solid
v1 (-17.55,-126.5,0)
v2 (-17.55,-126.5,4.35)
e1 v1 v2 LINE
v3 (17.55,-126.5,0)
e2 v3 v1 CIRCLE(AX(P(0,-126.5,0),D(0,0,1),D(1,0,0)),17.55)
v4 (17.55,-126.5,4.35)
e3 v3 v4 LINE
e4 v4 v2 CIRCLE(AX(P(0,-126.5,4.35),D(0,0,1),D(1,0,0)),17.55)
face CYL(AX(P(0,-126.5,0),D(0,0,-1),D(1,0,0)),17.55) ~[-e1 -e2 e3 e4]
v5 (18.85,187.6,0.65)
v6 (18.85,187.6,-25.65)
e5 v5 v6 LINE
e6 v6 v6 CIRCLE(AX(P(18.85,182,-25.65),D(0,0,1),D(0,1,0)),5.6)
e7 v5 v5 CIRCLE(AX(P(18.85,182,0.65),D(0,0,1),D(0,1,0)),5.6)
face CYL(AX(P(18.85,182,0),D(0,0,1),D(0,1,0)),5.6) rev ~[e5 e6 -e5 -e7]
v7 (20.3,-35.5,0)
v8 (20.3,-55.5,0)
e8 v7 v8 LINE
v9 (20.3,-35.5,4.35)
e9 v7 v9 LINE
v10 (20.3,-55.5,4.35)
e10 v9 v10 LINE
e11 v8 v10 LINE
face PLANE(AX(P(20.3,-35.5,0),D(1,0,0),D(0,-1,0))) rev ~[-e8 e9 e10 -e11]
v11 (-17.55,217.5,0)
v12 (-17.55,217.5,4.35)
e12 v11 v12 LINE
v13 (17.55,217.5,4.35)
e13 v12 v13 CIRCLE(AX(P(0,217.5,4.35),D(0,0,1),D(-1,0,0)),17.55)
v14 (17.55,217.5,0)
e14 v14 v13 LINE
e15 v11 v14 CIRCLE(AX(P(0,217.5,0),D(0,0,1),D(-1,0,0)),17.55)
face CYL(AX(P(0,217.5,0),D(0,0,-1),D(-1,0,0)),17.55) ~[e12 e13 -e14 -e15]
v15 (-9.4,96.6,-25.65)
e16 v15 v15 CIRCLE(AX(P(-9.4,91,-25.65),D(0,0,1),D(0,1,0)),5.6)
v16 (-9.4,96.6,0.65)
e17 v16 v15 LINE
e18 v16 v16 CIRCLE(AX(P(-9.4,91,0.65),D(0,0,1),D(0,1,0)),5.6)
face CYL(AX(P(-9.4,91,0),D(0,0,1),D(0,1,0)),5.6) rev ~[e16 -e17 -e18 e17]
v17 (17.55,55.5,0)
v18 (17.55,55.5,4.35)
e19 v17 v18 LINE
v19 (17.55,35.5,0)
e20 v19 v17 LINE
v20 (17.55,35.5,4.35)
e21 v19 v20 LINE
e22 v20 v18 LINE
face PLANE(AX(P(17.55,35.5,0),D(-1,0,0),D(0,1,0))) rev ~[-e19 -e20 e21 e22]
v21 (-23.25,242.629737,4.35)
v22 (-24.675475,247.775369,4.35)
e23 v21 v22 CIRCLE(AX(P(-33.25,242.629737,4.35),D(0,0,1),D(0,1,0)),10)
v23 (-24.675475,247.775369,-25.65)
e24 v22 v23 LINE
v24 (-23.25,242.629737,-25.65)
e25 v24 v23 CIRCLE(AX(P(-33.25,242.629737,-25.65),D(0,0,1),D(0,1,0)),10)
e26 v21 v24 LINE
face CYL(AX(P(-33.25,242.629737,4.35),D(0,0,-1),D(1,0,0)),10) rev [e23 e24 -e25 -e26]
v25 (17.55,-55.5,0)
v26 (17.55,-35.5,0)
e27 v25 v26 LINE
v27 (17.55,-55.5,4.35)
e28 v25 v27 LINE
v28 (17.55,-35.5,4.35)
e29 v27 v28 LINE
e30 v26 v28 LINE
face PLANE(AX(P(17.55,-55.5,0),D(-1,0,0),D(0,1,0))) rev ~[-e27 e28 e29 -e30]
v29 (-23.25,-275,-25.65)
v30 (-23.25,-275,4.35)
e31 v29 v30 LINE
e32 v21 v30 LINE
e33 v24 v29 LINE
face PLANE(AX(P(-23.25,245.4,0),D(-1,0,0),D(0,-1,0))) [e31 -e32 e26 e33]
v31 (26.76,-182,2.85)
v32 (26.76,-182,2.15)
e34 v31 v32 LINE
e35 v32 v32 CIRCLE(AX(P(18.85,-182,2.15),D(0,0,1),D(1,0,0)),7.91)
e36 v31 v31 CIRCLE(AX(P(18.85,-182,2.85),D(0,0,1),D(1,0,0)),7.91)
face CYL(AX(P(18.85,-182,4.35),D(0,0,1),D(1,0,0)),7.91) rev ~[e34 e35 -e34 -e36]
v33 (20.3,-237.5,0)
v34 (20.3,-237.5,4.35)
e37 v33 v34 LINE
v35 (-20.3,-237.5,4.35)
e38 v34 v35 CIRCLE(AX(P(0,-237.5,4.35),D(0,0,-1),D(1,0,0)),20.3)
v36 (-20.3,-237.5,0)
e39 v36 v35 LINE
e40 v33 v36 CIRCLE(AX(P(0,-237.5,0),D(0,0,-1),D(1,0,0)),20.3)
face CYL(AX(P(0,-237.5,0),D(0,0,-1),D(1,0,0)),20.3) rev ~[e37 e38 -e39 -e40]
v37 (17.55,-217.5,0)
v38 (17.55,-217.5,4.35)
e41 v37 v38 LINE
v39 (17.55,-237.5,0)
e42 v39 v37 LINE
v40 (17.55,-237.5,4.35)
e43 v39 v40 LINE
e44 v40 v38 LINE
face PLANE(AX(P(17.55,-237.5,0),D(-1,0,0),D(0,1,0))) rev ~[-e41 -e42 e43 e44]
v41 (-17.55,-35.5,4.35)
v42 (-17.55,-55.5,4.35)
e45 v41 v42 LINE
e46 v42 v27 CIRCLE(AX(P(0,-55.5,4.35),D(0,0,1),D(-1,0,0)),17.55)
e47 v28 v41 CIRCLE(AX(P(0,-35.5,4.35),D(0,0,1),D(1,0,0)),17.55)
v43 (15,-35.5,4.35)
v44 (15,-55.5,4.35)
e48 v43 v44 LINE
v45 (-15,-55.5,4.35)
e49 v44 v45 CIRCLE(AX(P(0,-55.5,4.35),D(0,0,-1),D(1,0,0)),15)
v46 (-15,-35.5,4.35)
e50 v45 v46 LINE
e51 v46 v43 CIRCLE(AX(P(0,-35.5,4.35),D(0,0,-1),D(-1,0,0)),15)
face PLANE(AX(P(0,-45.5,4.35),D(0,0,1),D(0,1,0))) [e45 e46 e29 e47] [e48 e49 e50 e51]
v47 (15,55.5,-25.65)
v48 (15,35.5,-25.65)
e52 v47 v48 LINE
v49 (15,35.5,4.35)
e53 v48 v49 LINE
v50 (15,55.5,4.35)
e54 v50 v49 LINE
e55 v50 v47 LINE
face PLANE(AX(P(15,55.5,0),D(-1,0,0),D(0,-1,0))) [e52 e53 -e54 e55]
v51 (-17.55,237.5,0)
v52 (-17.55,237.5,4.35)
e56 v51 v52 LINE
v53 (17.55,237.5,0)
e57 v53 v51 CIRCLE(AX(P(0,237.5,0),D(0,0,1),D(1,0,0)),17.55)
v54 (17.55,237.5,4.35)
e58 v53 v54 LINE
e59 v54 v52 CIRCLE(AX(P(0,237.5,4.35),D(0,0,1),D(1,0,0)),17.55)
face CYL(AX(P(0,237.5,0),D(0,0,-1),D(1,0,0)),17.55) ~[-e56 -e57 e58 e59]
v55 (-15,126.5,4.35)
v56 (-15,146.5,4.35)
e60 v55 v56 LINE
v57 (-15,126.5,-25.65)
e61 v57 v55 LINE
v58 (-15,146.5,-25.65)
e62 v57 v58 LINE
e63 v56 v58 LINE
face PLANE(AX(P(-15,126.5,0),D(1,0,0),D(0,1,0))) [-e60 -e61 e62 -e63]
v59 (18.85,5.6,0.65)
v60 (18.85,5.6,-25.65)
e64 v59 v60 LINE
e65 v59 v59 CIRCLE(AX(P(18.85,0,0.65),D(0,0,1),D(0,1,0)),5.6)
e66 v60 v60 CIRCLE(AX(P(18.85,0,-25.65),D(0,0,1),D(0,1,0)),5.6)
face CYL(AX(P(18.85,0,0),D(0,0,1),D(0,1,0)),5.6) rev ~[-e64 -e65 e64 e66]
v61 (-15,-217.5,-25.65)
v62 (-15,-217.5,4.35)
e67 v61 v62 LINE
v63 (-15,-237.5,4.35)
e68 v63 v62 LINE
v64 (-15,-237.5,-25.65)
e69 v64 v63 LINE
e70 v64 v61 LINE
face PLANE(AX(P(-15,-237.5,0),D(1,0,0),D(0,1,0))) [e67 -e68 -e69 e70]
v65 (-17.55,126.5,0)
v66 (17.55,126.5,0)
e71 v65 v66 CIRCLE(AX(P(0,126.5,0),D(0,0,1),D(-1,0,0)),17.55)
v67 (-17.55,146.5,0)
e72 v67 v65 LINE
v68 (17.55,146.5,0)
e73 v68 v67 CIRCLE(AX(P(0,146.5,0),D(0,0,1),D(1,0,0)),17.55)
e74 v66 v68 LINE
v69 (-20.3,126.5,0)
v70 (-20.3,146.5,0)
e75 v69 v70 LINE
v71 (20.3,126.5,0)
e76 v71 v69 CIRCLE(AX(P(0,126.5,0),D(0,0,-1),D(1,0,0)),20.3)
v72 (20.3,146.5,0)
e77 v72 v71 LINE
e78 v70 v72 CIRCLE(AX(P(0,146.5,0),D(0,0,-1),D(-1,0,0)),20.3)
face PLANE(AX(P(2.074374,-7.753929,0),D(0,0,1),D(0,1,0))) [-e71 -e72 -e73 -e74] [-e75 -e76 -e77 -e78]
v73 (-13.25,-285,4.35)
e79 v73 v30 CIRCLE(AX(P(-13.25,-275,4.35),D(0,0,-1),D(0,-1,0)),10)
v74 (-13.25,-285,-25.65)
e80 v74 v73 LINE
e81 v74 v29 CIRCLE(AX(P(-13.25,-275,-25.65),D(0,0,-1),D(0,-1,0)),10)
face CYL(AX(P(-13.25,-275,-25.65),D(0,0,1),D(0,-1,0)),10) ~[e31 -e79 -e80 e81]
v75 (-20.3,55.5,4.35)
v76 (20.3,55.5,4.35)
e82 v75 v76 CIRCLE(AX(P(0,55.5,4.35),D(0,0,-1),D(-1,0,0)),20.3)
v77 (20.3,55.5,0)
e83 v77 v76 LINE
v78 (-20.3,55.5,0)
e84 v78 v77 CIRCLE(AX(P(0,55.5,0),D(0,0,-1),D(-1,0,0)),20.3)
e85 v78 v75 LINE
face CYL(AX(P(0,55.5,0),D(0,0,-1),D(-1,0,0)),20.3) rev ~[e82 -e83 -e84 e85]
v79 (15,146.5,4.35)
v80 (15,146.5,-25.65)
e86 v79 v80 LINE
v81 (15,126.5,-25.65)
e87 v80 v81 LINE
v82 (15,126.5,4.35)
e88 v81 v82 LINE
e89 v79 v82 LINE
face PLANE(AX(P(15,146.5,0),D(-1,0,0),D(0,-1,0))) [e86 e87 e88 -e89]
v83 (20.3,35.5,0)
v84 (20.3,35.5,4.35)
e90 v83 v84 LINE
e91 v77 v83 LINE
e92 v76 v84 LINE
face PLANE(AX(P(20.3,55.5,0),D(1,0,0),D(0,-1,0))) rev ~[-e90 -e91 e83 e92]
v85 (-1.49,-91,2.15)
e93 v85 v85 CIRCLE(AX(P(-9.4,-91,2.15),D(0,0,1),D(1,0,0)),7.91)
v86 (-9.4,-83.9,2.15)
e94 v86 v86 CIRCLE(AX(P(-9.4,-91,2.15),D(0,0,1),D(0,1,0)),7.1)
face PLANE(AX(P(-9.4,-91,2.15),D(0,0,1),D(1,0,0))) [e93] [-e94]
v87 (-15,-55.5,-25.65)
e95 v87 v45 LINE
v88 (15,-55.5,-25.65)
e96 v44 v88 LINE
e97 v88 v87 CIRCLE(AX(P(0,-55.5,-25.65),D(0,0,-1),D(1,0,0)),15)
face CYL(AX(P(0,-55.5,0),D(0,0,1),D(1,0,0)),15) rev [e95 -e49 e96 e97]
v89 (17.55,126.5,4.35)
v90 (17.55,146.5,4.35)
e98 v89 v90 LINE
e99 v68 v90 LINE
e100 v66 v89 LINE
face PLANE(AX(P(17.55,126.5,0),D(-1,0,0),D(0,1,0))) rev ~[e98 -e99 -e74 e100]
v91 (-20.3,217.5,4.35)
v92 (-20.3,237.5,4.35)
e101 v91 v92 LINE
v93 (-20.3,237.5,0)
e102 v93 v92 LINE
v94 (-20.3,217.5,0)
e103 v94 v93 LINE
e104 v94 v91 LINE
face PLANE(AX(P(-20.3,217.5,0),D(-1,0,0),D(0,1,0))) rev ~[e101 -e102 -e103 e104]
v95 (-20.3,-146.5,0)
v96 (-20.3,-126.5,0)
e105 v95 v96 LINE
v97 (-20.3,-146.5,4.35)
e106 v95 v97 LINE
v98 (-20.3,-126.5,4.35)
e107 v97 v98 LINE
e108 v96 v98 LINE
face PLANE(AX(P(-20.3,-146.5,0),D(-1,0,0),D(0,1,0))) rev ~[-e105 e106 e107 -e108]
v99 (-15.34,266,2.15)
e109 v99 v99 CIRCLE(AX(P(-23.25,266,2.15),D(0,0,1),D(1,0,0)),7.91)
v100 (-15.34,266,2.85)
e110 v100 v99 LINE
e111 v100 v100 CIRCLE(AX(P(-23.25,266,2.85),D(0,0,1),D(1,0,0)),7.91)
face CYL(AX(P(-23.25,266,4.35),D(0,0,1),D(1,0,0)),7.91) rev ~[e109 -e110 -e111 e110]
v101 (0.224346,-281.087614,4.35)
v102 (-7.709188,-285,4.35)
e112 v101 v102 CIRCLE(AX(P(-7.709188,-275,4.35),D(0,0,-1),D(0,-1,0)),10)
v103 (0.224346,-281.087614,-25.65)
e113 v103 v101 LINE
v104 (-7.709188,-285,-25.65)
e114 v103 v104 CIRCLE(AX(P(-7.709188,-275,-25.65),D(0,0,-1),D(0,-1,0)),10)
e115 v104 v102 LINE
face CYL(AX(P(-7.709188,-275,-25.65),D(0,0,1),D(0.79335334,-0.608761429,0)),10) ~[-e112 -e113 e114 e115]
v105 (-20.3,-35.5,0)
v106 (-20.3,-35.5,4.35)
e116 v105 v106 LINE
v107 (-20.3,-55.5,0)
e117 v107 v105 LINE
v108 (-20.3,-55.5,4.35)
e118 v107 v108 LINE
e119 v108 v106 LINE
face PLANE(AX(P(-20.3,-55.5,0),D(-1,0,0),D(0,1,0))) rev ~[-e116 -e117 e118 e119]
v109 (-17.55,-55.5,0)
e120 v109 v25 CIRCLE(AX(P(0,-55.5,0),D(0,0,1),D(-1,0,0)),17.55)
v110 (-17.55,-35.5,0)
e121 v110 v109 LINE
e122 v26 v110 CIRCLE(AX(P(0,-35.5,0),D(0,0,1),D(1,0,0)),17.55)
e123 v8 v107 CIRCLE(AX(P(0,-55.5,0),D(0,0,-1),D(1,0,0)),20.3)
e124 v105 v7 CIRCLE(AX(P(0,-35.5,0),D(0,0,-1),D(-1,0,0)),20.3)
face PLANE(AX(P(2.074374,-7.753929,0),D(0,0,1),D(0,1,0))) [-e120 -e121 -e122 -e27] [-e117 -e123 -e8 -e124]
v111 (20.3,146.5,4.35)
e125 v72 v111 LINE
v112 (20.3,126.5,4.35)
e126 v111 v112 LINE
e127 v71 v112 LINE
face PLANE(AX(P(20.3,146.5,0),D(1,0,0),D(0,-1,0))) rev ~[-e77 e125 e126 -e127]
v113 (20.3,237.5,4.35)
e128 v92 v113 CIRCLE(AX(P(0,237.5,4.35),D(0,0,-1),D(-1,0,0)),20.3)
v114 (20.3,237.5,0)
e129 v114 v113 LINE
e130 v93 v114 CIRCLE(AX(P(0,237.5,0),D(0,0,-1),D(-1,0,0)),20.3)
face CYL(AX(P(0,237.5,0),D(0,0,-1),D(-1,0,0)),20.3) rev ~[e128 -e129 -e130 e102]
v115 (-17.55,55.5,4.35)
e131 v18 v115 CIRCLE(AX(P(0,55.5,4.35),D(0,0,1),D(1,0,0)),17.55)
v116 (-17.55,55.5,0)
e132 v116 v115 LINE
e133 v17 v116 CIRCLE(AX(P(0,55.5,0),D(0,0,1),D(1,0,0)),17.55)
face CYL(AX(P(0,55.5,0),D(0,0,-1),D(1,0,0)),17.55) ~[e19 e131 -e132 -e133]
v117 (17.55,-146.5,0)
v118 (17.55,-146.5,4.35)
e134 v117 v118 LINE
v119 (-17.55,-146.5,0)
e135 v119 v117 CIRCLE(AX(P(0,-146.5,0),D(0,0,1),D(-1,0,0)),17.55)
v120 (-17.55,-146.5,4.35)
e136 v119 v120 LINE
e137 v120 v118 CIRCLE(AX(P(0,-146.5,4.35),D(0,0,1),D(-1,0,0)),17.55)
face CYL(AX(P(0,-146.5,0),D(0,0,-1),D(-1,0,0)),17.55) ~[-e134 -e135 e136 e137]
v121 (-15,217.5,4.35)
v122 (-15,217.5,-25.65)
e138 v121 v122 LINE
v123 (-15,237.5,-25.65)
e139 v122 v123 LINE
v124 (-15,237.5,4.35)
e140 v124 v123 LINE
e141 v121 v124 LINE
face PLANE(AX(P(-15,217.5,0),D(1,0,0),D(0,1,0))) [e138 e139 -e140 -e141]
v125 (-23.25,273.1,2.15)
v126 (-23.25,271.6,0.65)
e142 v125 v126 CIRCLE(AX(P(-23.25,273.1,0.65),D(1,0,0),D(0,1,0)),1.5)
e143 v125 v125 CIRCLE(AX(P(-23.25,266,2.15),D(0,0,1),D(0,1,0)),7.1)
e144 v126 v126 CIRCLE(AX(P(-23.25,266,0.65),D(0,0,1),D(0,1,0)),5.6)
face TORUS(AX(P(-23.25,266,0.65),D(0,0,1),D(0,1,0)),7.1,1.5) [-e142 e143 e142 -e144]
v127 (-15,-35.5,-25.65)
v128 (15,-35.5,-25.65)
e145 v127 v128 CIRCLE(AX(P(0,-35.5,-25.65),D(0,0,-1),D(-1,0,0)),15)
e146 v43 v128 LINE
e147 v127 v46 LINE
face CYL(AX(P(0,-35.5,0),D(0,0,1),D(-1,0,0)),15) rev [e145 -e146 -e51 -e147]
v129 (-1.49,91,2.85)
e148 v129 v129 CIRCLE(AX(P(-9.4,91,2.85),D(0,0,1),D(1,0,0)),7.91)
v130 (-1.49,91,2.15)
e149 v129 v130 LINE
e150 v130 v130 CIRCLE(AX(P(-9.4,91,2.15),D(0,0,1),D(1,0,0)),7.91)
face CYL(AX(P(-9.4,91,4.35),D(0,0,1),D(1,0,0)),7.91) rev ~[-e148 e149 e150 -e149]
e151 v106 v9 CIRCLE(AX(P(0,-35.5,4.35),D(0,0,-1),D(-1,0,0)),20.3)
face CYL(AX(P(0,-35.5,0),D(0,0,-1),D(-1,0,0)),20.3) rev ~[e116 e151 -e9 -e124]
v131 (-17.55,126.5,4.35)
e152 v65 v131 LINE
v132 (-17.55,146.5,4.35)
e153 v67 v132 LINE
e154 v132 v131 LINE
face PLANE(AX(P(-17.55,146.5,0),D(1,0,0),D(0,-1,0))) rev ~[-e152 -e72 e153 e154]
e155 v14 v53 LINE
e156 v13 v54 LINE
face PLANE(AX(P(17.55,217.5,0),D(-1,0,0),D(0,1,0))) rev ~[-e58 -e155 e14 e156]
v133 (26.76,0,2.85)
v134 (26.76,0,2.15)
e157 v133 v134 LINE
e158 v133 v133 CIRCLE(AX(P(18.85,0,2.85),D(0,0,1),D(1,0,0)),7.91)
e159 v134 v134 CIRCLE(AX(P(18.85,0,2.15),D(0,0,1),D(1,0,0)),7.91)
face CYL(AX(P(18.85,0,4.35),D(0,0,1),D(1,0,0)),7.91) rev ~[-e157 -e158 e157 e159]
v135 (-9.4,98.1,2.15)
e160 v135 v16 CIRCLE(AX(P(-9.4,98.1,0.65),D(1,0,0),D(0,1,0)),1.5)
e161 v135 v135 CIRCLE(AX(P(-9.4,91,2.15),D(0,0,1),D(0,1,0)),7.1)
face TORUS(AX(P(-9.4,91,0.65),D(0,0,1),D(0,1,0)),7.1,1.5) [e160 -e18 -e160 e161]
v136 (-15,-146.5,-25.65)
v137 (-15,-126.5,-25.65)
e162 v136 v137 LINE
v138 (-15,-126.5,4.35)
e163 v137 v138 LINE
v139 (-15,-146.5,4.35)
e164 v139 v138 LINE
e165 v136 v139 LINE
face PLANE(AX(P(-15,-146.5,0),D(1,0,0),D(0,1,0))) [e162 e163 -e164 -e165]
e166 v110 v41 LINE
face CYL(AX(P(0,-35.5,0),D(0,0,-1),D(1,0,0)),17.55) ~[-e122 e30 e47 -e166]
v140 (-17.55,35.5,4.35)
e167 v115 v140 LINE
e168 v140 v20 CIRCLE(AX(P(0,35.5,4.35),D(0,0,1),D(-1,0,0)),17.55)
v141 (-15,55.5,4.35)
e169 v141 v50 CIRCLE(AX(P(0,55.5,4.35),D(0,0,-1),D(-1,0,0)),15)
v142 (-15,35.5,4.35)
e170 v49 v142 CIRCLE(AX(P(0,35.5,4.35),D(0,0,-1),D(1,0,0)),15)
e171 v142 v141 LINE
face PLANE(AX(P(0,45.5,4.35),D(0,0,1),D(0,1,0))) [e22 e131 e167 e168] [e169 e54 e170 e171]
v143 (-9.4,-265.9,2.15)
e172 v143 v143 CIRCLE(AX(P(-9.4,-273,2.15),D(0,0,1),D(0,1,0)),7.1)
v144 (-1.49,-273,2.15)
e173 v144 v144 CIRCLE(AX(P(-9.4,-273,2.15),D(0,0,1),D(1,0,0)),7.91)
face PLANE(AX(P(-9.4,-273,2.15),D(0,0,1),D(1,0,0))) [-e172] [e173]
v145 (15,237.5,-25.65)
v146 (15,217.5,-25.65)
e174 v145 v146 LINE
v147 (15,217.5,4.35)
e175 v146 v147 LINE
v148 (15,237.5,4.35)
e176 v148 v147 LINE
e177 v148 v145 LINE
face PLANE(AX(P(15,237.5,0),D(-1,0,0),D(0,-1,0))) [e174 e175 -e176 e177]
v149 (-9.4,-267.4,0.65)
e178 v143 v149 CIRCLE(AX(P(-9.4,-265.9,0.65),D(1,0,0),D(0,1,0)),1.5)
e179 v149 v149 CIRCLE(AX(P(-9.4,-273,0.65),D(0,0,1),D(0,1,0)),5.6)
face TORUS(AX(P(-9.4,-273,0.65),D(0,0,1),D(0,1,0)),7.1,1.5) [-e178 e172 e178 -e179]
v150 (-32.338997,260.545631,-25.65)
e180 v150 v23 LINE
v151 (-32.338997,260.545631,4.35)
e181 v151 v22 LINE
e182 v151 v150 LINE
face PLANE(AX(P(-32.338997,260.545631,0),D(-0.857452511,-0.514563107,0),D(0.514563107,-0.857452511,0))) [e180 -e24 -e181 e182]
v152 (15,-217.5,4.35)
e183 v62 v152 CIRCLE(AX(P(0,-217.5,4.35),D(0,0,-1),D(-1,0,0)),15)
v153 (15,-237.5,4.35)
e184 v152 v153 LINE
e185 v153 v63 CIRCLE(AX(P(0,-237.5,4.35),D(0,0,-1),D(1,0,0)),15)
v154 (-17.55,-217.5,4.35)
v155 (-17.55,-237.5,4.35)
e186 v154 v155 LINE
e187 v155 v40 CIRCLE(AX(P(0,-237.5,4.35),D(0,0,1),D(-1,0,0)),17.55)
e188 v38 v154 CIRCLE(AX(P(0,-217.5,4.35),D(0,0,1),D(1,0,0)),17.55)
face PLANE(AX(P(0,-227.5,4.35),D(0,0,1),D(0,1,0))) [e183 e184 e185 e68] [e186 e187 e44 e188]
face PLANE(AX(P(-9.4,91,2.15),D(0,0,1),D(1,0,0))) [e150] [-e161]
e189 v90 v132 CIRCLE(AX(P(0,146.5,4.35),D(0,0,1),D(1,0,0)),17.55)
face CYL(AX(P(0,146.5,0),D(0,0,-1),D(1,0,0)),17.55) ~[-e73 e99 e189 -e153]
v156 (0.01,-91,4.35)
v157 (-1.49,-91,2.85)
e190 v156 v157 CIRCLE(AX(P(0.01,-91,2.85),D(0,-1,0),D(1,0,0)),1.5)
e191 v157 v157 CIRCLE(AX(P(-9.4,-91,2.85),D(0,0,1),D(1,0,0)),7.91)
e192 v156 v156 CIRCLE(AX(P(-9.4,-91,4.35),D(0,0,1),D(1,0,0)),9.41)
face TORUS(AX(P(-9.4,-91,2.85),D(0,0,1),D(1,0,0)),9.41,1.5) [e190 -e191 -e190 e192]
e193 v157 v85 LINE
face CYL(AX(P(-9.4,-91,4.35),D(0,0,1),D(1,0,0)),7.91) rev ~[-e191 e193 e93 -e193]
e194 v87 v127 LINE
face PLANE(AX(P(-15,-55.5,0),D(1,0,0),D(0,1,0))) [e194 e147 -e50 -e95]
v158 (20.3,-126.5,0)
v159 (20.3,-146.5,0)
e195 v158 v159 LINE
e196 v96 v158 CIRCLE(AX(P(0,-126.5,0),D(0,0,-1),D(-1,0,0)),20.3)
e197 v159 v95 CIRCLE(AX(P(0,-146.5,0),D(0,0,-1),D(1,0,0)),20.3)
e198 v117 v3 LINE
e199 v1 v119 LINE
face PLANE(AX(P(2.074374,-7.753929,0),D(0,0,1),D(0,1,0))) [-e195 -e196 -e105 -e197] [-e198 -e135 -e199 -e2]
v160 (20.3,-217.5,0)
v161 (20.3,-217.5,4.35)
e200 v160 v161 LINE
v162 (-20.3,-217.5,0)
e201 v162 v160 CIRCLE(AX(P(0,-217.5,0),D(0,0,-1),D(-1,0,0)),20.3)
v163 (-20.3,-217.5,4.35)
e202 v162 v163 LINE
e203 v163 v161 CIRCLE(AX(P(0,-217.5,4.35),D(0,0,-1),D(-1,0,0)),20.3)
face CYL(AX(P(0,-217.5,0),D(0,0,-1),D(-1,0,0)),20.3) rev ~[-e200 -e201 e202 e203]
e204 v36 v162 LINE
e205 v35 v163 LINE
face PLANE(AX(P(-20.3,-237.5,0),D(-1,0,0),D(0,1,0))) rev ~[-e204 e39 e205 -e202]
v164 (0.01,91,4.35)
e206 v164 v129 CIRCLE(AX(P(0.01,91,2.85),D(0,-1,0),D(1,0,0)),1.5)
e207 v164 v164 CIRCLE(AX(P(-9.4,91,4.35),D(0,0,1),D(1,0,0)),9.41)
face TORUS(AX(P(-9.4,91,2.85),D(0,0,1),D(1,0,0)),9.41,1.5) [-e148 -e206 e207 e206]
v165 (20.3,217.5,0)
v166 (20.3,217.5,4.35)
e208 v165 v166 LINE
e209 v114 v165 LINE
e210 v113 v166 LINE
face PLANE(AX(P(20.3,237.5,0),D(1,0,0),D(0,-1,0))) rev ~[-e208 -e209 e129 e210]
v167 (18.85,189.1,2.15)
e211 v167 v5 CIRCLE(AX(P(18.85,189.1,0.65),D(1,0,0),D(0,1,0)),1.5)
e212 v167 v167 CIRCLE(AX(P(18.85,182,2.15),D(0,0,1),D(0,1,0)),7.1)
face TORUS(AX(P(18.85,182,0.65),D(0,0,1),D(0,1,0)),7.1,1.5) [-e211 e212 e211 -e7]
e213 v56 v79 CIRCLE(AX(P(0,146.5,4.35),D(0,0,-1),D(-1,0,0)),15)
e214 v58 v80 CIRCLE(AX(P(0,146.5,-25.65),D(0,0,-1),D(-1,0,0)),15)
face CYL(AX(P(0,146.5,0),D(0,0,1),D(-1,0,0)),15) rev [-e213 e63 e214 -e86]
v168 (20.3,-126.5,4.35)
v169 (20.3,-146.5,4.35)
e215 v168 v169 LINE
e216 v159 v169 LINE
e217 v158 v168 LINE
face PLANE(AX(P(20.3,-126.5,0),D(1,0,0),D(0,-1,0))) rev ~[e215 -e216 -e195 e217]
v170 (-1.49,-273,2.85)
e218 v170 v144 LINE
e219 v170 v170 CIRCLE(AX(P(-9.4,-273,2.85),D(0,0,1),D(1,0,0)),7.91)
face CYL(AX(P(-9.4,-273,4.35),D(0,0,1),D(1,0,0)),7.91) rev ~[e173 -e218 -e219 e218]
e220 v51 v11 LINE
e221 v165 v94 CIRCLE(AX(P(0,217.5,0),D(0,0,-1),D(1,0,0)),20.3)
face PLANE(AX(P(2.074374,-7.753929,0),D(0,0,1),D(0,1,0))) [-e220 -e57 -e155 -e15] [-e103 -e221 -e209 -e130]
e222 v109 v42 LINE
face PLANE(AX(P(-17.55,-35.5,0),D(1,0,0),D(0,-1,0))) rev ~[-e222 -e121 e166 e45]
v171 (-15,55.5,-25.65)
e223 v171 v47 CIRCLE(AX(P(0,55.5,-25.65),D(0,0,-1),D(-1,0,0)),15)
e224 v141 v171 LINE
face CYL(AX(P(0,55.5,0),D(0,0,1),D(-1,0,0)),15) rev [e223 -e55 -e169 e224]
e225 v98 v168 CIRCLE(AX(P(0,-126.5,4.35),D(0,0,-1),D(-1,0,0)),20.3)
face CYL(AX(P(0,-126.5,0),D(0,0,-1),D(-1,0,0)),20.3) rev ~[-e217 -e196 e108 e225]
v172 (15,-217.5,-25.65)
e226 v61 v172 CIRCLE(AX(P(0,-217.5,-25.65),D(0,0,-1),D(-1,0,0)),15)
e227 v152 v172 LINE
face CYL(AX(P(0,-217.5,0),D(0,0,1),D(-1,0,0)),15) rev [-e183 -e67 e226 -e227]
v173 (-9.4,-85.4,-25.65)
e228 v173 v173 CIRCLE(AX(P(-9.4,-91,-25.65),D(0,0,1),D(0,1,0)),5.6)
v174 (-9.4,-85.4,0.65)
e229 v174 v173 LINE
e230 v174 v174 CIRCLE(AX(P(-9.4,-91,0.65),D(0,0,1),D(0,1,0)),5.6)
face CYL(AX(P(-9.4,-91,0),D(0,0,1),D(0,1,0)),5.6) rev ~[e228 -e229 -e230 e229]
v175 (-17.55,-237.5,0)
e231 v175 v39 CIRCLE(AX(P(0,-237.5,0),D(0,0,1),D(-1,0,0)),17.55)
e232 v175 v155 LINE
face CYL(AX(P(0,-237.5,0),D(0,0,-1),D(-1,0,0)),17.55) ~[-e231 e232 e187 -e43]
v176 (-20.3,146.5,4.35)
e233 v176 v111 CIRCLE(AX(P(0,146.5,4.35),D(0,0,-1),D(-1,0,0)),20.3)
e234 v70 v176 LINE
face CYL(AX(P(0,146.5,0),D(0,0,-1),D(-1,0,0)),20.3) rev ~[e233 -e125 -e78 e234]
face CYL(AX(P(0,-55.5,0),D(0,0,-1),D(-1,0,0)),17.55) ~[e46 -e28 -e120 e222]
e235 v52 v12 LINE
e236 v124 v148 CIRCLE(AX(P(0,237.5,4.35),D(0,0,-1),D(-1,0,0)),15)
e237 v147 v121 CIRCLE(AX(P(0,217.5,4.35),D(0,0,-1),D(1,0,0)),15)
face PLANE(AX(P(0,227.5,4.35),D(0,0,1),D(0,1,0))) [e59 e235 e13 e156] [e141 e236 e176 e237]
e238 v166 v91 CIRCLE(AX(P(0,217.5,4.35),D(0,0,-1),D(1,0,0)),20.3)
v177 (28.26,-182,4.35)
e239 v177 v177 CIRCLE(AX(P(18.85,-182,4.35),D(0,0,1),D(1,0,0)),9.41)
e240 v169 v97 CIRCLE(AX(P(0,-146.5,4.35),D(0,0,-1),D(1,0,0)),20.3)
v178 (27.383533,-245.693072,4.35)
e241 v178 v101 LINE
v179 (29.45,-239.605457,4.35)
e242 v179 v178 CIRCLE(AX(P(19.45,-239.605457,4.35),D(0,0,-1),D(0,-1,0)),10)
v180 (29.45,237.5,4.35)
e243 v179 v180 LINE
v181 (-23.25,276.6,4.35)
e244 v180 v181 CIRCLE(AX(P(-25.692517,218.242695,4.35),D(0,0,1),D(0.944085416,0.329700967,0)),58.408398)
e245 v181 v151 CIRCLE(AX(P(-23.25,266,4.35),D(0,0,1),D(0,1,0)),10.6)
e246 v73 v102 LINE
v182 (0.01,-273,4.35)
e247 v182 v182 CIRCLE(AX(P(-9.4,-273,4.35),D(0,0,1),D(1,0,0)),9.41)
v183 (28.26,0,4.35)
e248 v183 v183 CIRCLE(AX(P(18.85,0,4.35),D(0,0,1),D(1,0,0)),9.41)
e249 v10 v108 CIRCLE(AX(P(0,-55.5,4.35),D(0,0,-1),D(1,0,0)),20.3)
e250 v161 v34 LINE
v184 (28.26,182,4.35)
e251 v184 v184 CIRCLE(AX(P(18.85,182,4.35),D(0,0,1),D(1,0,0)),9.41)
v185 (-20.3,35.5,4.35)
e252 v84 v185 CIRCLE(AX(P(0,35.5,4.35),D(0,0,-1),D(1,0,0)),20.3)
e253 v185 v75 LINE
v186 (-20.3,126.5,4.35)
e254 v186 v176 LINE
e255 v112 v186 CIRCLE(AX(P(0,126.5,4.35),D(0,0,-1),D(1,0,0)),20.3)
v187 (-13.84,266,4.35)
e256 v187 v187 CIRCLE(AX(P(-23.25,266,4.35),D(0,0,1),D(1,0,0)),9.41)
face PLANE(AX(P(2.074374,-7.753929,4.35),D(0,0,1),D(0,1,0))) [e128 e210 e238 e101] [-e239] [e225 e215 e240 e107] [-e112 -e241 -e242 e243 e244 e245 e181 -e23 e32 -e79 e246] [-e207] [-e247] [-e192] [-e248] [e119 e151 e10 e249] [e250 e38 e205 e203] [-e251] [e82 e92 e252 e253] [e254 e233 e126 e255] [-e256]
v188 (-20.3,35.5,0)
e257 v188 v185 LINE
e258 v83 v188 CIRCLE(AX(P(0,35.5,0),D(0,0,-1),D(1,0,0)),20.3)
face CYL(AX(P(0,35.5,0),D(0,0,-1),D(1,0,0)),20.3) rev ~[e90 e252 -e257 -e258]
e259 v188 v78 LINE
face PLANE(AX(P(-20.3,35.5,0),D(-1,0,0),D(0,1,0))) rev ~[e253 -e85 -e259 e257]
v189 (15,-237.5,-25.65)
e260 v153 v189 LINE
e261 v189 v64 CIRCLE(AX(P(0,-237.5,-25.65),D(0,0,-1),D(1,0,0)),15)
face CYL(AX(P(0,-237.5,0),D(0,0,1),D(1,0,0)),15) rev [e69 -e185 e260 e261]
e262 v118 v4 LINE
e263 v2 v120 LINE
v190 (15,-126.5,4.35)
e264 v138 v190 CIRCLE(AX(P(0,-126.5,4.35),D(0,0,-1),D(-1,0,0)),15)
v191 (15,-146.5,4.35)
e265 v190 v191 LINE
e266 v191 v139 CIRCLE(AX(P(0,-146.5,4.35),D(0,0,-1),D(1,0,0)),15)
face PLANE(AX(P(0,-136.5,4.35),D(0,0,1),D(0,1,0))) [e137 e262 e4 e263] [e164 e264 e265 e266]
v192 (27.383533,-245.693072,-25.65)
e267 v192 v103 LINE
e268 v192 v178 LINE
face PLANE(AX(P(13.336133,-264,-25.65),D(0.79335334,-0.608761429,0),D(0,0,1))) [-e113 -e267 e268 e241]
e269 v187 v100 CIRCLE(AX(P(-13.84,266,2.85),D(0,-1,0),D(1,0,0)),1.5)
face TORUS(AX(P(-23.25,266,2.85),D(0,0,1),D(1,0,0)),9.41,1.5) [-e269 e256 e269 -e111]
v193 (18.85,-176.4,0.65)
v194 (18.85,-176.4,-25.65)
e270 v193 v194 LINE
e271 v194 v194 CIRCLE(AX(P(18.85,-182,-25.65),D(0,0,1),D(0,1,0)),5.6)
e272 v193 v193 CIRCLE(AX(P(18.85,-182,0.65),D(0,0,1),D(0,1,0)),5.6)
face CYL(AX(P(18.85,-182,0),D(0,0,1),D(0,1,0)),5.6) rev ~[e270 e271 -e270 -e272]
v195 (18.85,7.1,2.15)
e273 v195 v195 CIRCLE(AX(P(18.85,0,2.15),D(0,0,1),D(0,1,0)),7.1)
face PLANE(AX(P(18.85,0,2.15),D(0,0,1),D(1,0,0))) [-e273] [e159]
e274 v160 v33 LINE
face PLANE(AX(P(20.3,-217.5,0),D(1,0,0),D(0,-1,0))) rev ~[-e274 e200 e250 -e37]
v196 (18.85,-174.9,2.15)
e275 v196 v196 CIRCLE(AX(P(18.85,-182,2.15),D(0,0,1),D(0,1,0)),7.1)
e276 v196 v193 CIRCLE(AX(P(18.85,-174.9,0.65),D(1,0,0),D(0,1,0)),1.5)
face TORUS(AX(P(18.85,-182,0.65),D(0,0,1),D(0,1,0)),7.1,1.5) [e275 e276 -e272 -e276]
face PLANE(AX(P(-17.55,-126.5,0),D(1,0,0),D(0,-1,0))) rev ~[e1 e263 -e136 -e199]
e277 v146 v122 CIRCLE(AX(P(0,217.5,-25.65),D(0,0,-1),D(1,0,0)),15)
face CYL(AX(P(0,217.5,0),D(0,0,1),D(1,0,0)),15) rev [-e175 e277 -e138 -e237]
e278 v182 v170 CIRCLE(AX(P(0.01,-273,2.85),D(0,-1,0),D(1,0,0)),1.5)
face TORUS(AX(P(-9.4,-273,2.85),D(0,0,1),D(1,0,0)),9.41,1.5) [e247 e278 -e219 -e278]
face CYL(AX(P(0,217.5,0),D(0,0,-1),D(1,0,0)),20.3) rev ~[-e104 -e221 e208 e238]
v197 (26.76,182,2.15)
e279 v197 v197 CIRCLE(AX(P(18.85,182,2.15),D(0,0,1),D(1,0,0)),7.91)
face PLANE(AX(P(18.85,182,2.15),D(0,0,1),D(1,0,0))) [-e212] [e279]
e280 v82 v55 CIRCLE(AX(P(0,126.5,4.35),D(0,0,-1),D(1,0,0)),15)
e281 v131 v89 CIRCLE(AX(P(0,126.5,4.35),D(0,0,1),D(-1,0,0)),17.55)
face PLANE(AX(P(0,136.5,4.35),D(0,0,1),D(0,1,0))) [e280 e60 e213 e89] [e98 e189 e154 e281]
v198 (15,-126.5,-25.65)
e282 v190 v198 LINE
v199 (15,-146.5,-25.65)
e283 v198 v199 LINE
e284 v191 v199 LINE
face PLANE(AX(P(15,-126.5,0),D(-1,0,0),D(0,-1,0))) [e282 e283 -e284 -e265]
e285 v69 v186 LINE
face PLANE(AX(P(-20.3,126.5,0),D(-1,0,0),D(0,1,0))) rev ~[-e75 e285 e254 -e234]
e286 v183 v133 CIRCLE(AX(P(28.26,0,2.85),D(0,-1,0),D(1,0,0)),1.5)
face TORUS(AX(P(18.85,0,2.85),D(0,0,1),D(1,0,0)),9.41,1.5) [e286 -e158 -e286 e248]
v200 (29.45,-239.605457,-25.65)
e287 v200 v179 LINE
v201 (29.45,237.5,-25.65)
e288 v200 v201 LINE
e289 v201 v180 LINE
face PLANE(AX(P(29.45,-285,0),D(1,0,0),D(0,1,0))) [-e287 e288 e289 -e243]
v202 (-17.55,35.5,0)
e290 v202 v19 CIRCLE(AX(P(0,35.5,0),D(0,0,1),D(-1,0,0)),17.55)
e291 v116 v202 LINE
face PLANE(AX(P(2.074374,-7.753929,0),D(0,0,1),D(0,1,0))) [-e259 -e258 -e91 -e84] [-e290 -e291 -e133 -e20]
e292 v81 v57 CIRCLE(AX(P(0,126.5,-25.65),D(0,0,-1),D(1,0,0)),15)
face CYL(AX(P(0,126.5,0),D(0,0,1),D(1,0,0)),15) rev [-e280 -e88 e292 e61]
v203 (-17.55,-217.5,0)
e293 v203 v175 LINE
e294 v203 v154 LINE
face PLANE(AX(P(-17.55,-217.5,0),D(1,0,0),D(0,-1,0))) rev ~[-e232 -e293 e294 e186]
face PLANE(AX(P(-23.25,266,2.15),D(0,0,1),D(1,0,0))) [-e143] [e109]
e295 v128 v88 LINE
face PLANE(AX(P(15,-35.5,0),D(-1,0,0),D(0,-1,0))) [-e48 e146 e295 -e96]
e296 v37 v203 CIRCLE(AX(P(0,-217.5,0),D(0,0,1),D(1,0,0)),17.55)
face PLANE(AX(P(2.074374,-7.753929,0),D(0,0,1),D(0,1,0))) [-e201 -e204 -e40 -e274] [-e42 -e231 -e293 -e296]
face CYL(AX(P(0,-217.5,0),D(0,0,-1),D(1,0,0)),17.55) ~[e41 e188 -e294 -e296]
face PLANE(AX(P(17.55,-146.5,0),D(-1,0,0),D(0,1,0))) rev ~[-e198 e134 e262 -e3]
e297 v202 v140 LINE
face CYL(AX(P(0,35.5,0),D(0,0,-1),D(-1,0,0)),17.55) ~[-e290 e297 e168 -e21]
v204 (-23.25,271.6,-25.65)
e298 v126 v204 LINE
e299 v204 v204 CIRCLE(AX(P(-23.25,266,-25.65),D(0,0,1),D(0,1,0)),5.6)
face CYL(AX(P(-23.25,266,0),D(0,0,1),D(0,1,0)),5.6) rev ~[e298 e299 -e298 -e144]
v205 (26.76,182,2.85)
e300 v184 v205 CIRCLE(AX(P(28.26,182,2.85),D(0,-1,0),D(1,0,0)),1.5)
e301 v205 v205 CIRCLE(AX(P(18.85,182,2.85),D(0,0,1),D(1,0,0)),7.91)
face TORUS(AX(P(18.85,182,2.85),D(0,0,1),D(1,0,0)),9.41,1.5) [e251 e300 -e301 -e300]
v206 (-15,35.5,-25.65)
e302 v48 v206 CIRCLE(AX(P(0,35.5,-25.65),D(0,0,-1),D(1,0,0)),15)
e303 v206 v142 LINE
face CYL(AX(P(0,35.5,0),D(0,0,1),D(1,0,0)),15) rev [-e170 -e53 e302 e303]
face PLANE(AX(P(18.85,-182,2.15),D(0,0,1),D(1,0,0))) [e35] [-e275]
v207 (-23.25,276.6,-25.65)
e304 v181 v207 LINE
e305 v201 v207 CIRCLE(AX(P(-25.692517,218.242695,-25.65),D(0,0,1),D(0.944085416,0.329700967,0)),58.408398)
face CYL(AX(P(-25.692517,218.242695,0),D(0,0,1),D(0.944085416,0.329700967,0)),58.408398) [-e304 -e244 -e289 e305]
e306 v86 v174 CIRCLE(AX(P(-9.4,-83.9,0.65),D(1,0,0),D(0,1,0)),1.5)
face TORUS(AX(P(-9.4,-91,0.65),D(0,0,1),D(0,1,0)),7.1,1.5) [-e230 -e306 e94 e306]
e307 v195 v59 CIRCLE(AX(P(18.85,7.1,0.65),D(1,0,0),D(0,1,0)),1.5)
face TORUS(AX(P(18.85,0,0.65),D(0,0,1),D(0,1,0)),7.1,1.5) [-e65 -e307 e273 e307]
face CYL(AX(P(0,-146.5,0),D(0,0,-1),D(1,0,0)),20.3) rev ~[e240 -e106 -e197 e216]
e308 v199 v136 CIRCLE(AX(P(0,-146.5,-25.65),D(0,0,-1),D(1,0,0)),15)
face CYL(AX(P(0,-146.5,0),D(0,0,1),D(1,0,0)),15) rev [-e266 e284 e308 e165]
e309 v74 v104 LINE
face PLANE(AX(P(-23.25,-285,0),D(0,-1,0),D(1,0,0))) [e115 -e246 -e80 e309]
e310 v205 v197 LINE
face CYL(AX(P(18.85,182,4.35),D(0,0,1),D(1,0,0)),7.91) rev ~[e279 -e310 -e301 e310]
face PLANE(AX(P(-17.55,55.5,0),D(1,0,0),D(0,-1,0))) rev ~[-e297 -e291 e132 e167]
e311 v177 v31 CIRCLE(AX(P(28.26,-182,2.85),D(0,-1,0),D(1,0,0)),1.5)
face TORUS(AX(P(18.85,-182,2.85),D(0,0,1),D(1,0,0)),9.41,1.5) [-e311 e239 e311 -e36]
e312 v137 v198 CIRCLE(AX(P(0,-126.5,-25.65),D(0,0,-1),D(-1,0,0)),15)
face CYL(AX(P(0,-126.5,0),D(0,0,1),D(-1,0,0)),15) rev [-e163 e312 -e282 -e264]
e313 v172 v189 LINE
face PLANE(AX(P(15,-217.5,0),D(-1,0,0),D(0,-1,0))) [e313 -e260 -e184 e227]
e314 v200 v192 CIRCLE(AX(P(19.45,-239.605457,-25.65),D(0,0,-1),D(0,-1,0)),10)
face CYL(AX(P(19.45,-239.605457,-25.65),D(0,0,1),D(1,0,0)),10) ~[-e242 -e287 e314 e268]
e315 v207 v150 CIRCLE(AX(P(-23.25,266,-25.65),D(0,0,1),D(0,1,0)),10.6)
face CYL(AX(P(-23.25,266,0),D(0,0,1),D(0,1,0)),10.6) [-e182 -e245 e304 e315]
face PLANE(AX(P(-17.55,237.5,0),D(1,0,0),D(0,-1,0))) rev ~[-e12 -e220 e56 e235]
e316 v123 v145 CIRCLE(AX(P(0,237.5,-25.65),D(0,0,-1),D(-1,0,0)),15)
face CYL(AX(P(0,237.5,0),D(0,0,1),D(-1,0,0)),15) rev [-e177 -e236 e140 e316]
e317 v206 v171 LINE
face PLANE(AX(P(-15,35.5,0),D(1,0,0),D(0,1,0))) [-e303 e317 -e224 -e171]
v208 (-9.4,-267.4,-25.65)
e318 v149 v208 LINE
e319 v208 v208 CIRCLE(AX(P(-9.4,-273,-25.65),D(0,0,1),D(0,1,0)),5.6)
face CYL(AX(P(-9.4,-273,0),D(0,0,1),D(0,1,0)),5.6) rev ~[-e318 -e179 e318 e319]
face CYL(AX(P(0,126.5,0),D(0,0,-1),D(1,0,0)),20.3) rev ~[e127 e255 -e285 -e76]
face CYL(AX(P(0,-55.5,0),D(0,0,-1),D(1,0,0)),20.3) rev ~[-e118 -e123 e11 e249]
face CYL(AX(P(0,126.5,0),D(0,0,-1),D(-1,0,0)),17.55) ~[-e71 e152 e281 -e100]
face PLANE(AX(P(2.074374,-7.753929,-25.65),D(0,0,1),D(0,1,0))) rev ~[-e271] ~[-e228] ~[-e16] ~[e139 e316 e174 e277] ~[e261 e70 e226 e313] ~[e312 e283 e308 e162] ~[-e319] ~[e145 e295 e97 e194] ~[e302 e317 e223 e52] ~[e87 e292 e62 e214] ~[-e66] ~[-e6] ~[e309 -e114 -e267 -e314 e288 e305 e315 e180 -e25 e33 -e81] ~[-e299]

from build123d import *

# Parameters (mm, degrees)
BASE_FLANGE_GEOMETRY_R   = 5.6
BOSS_EXTRUDE1_DEPTH      = 4.35
BOSS_EXTRUDE1_2_DEPTH    = 4.35
BOSS_EXTRUDE1_3_DEPTH    = 4.35
BOSS_EXTRUDE1_4_DEPTH    = 4.35
BOSS_EXTRUDE1_5_DEPTH    = 4.35
BOSS_EXTRUDE1_6_DEPTH    = 4.35
BOSS_EXTRUDE1_7_DEPTH    = 4.35
BOSS_EXTRUDE2_START      = -25.65
BASE_FLANGE_GEOMETRY_5_R = 5.6
BOSS_EXTRUDE2_DEPTH      = 25.65
CHAMFER1_SIZE            = 42
CHAMFER1_SIZE2           = 32.227733495
FILLET1_R                = 10
CUT_EXTRUDE1_START       = -2.2
INSERT_HOLE_GEOMETRY_R   = 7.91
INSERT_HOLE_GEOMETRY_R_2 = 5.6
CUT_EXTRUDE1_DEPTH       = 2.2
FILLET2_R                = 1.5


with BuildPart() as part:
    # Base_Flange_Geometry → Boss-Extrude1 (new body)
    with BuildSketch(Plane(origin=(0, 0, 0), x_dir=(0, 1, 0), z_dir=(0, 0, 1))):
        with BuildLine():
            Line((245.4, 23.25), (-285, 23.25))
            Line((-285, 23.25), (-285, -29.45))
            Line((-285, -29.45), (237.5, -29.45))
            ThreePointArc((237.5, -29.45), (265.150364046, -9.109947518), (276.6, 23.25))
            ThreePointArc((276.6, 23.25), (271.222245174, 32.474324113), (260.545631068, 32.33899662))
            Line((260.545631068, 32.33899662), (245.4, 23.25))
        make_face()
        with Locations((-182, -18.85)):
            Circle(BASE_FLANGE_GEOMETRY_R, mode=Mode.SUBTRACT)
        with BuildLine():
            Line((-237.5, 20.3), (-217.5, 20.3))
            ThreePointArc((-217.5, 20.3), (-197.2, 0), (-217.5, -20.3))
            Line((-217.5, -20.3), (-237.5, -20.3))
            ThreePointArc((-237.5, -20.3), (-257.8, 0), (-237.5, 20.3))
        make_face(mode=Mode.SUBTRACT)
        with BuildLine():
            Line((-146.5, 20.3), (-126.5, 20.3))
            ThreePointArc((-126.5, 20.3), (-106.2, 0), (-126.5, -20.3))
            Line((-126.5, -20.3), (-146.5, -20.3))
            ThreePointArc((-146.5, -20.3), (-166.8, 0), (-146.5, 20.3))
        make_face(mode=Mode.SUBTRACT)
        with BuildLine():
            Line((-55.5, 20.3), (-35.5, 20.3))
            ThreePointArc((-35.5, 20.3), (-15.2, 0), (-35.5, -20.3))
            Line((-35.5, -20.3), (-55.5, -20.3))
            ThreePointArc((-55.5, -20.3), (-75.8, 0), (-55.5, 20.3))
        make_face(mode=Mode.SUBTRACT)
        with Locations((0, -18.85)):
            Circle(BASE_FLANGE_GEOMETRY_R, mode=Mode.SUBTRACT)
        with Locations((182, -18.85)):
            Circle(BASE_FLANGE_GEOMETRY_R, mode=Mode.SUBTRACT)
        with BuildLine():
            ThreePointArc((35.5, -20.3), (15.2, 0), (35.5, 20.3))
            Line((35.5, 20.3), (55.5, 20.3))
            ThreePointArc((55.5, 20.3), (75.8, 0), (55.5, -20.3))
            Line((55.5, -20.3), (35.5, -20.3))
        make_face(mode=Mode.SUBTRACT)
        with BuildLine():
            ThreePointArc((126.5, -20.3), (106.2, 0), (126.5, 20.3))
            Line((126.5, 20.3), (146.5, 20.3))
            ThreePointArc((146.5, 20.3), (166.8, 0), (146.5, -20.3))
            Line((146.5, -20.3), (126.5, -20.3))
        make_face(mode=Mode.SUBTRACT)
        with BuildLine():
            ThreePointArc((217.5, -20.3), (197.2, 0), (217.5, 20.3))
            Line((217.5, 20.3), (237.5, 20.3))
            ThreePointArc((237.5, 20.3), (257.8, 0), (237.5, -20.3))
            Line((237.5, -20.3), (217.5, -20.3))
        make_face(mode=Mode.SUBTRACT)
        with Locations((-273, 9.4)):
            Circle(BASE_FLANGE_GEOMETRY_R, mode=Mode.SUBTRACT)
        with Locations((-91, 9.4)):
            Circle(BASE_FLANGE_GEOMETRY_R, mode=Mode.SUBTRACT)
        with Locations((91, 9.4)):
            Circle(BASE_FLANGE_GEOMETRY_R, mode=Mode.SUBTRACT)
        with Locations((266, 23.25)):
            Circle(BASE_FLANGE_GEOMETRY_R, mode=Mode.SUBTRACT)
    extrude(amount=BOSS_EXTRUDE1_DEPTH)



with BuildPart() as body_2:
    # Base_Flange_Geometry → Boss-Extrude1 2 (new body)
    with BuildSketch(Plane(origin=(0, 0, 0), x_dir=(0, 1, 0), z_dir=(0, 0, 1))):
        with BuildLine():
            Line((237.5, 17.55), (217.5, 17.55))
            ThreePointArc((217.5, 17.55), (199.95, 0), (217.5, -17.55))
            Line((217.5, -17.55), (237.5, -17.55))
            ThreePointArc((237.5, -17.55), (255.05, 0), (237.5, 17.55))
        make_face()
        with BuildLine():
            ThreePointArc((217.5, -15), (202.5, 0), (217.5, 15))
            Line((217.5, 15), (237.5, 15))
            ThreePointArc((237.5, 15), (252.5, 0), (237.5, -15))
            Line((237.5, -15), (217.5, -15))
        make_face(mode=Mode.SUBTRACT)
    extrude(amount=BOSS_EXTRUDE1_2_DEPTH)


with BuildPart() as body_3:
    # Base_Flange_Geometry → Boss-Extrude1 3 (new body)
    with BuildSketch(Plane(origin=(0, 0, 0), x_dir=(0, 1, 0), z_dir=(0, 0, 1))):
        with BuildLine():
            Line((146.5, 17.55), (126.5, 17.55))
            ThreePointArc((126.5, 17.55), (108.95, 0), (126.5, -17.55))
            Line((126.5, -17.55), (146.5, -17.55))
            ThreePointArc((146.5, -17.55), (164.05, 0), (146.5, 17.55))
        make_face()
        with BuildLine():
            ThreePointArc((126.5, -15), (111.5, 0), (126.5, 15))
            Line((126.5, 15), (146.5, 15))
            ThreePointArc((146.5, 15), (161.5, 0), (146.5, -15))
            Line((146.5, -15), (126.5, -15))
        make_face(mode=Mode.SUBTRACT)
    extrude(amount=BOSS_EXTRUDE1_3_DEPTH)


with BuildPart() as body_4:
    # Base_Flange_Geometry → Boss-Extrude1 4 (new body)
    with BuildSketch(Plane(origin=(0, 0, 0), x_dir=(0, 1, 0), z_dir=(0, 0, 1))):
        with BuildLine():
            Line((55.5, 17.55), (35.5, 17.55))
            ThreePointArc((35.5, 17.55), (17.95, 0), (35.5, -17.55))
            Line((35.5, -17.55), (55.5, -17.55))
            ThreePointArc((55.5, -17.55), (73.05, 0), (55.5, 17.55))
        make_face()
        with BuildLine():
            ThreePointArc((35.5, -15), (20.5, 0), (35.5, 15))
            Line((35.5, 15), (55.5, 15))
            ThreePointArc((55.5, 15), (70.5, 0), (55.5, -15))
            Line((55.5, -15), (35.5, -15))
        make_face(mode=Mode.SUBTRACT)
    extrude(amount=BOSS_EXTRUDE1_4_DEPTH)


with BuildPart() as body_5:
    # Base_Flange_Geometry → Boss-Extrude1 5 (new body)
    with BuildSketch(Plane(origin=(0, 0, 0), x_dir=(0, 1, 0), z_dir=(0, 0, 1))):
        with BuildLine():
            ThreePointArc((-35.5, -17.55), (-17.95, 0), (-35.5, 17.55))
            Line((-35.5, 17.55), (-55.5, 17.55))
            ThreePointArc((-55.5, 17.55), (-73.05, 0), (-55.5, -17.55))
            Line((-55.5, -17.55), (-35.5, -17.55))
        make_face()
        with BuildLine():
            Line((-55.5, 15), (-35.5, 15))
            ThreePointArc((-35.5, 15), (-20.5, 0), (-35.5, -15))
            Line((-35.5, -15), (-55.5, -15))
            ThreePointArc((-55.5, -15), (-70.5, 0), (-55.5, 15))
        make_face(mode=Mode.SUBTRACT)
    extrude(amount=BOSS_EXTRUDE1_5_DEPTH)


with BuildPart() as body_6:
    # Base_Flange_Geometry → Boss-Extrude1 6 (new body)
    with BuildSketch(Plane(origin=(0, 0, 0), x_dir=(0, 1, 0), z_dir=(0, 0, 1))):
        with BuildLine():
            ThreePointArc((-126.5, -17.55), (-108.95, 0), (-126.5, 17.55))
            Line((-126.5, 17.55), (-146.5, 17.55))
            ThreePointArc((-146.5, 17.55), (-164.05, 0), (-146.5, -17.55))
            Line((-146.5, -17.55), (-126.5, -17.55))
        make_face()
        with BuildLine():
            Line((-146.5, 15), (-126.5, 15))
            ThreePointArc((-126.5, 15), (-111.5, 0), (-126.5, -15))
            Line((-126.5, -15), (-146.5, -15))
            ThreePointArc((-146.5, -15), (-161.5, 0), (-146.5, 15))
        make_face(mode=Mode.SUBTRACT)
    extrude(amount=BOSS_EXTRUDE1_6_DEPTH)


with BuildPart() as body_7:
    # Base_Flange_Geometry → Boss-Extrude1 7 (new body)
    with BuildSketch(Plane(origin=(0, 0, 0), x_dir=(0, 1, 0), z_dir=(0, 0, 1))):
        with BuildLine():
            ThreePointArc((-217.5, -17.55), (-199.95, 0), (-217.5, 17.55))
            Line((-217.5, 17.55), (-237.5, 17.55))
            ThreePointArc((-237.5, 17.55), (-255.05, 0), (-237.5, -17.55))
            Line((-237.5, -17.55), (-217.5, -17.55))
        make_face()
        with BuildLine():
            Line((-237.5, 15), (-217.5, 15))
            ThreePointArc((-217.5, 15), (-202.5, 0), (-217.5, -15))
            Line((-217.5, -15), (-237.5, -15))
            ThreePointArc((-237.5, -15), (-252.5, 0), (-237.5, 15))
        make_face(mode=Mode.SUBTRACT)
    extrude(amount=BOSS_EXTRUDE1_7_DEPTH)


with BuildPart() as part_1:
    add(part.part)

    add(body_2.part)  # Boss-Extrude2 merges body 2

    add(body_3.part)  # Boss-Extrude2 merges body 3

    add(body_4.part)  # Boss-Extrude2 merges body 4

    add(body_5.part)  # Boss-Extrude2 merges body 5

    add(body_6.part)  # Boss-Extrude2 merges body 6

    add(body_7.part)  # Boss-Extrude2 merges body 7
    # Base_Flange_Geometry<5> → Boss-Extrude2 (add)
    with BuildSketch(Plane(origin=(0, 0, 0), x_dir=(0, 1, 0), z_dir=(0, 0, 1)).offset(BOSS_EXTRUDE2_START)):
        with BuildLine():
            Line((245.4, 23.25), (-285, 23.25))
            Line((-285, 23.25), (-285, -29.45))
            Line((-285, -29.45), (237.5, -29.45))
            ThreePointArc((237.5, -29.45), (265.150364046, -9.109947518), (276.6, 23.25))
            ThreePointArc((276.6, 23.25), (271.222245174, 32.474324113), (260.545631068, 32.33899662))
            Line((260.545631068, 32.33899662), (245.4, 23.25))
        make_face()
        with Locations((-182, -18.85)):
            Circle(BASE_FLANGE_GEOMETRY_5_R, mode=Mode.SUBTRACT)
        with Locations((0, -18.85)):
            Circle(BASE_FLANGE_GEOMETRY_5_R, mode=Mode.SUBTRACT)
        with Locations((182, -18.85)):
            Circle(BASE_FLANGE_GEOMETRY_5_R, mode=Mode.SUBTRACT)
        with Locations((-273, 9.4)):
            Circle(BASE_FLANGE_GEOMETRY_5_R, mode=Mode.SUBTRACT)
        with Locations((-91, 9.4)):
            Circle(BASE_FLANGE_GEOMETRY_5_R, mode=Mode.SUBTRACT)
        with Locations((91, 9.4)):
            Circle(BASE_FLANGE_GEOMETRY_5_R, mode=Mode.SUBTRACT)
        with Locations((266, 23.25)):
            Circle(BASE_FLANGE_GEOMETRY_5_R, mode=Mode.SUBTRACT)
        with BuildLine():
            Line((-237.5, 15), (-217.5, 15))
            ThreePointArc((-217.5, 15), (-202.5, 0), (-217.5, -15))
            Line((-217.5, -15), (-237.5, -15))
            ThreePointArc((-237.5, -15), (-252.5, 0), (-237.5, 15))
        make_face(mode=Mode.SUBTRACT)
        with BuildLine():
            Line((-146.5, 15), (-126.5, 15))
            ThreePointArc((-126.5, 15), (-111.5, 0), (-126.5, -15))
            Line((-126.5, -15), (-146.5, -15))
            ThreePointArc((-146.5, -15), (-161.5, 0), (-146.5, 15))
        make_face(mode=Mode.SUBTRACT)
        with BuildLine():
            Line((-55.5, 15), (-35.5, 15))
            ThreePointArc((-35.5, 15), (-20.5, 0), (-35.5, -15))
            Line((-35.5, -15), (-55.5, -15))
            ThreePointArc((-55.5, -15), (-70.5, 0), (-55.5, 15))
        make_face(mode=Mode.SUBTRACT)
        with BuildLine():
            ThreePointArc((35.5, -15), (20.5, 0), (35.5, 15))
            Line((35.5, 15), (55.5, 15))
            ThreePointArc((55.5, 15), (70.5, 0), (55.5, -15))
            Line((55.5, -15), (35.5, -15))
        make_face(mode=Mode.SUBTRACT)
        with BuildLine():
            ThreePointArc((126.5, -15), (111.5, 0), (126.5, 15))
            Line((126.5, 15), (146.5, 15))
            ThreePointArc((146.5, 15), (161.5, 0), (146.5, -15))
            Line((146.5, -15), (126.5, -15))
        make_face(mode=Mode.SUBTRACT)
        with BuildLine():
            ThreePointArc((217.5, -15), (202.5, 0), (217.5, 15))
            Line((217.5, 15), (237.5, 15))
            ThreePointArc((237.5, 15), (252.5, 0), (237.5, -15))
            Line((237.5, -15), (217.5, -15))
        make_face(mode=Mode.SUBTRACT)
    extrude(amount=BOSS_EXTRUDE2_DEPTH)

    # Chamfer1
    chamfer1_edges = [part_1.edges().sort_by_distance(p)[0] for p in [
        (29.45, -285, -10.65),
    ]]
    chamfer1_side = [part_1.faces().sort_by_distance(p)[0] for p in [
        (29.45, -23.75, -10.65),
    ]]
    chamfer(chamfer1_edges, length=CHAMFER1_SIZE, length2=CHAMFER1_SIZE2, reference=chamfer1_side[0])

    # Fillet1
    fillet1_edges = [part_1.edges().sort_by_distance(p)[0] for p in [
        (-2.777733495, -285, -10.65),
        (-23.25, -285, -10.65),
        (-23.25, 245.4, -10.65),
        (29.45, -243, -10.65),
    ]]
    fillet(fillet1_edges, radius=FILLET1_R)

    # Insert_Hole_Geometry → Cut-Extrude1 (cut)
    # profile 1 of 7: a face of its own
    with BuildSketch(Plane.XY.offset(4.35).offset(CUT_EXTRUDE1_START)):
        with Locations((18.85, 182)):
            Circle(INSERT_HOLE_GEOMETRY_R)
        with Locations((18.85, 182)):
            Circle(INSERT_HOLE_GEOMETRY_R_2, mode=Mode.SUBTRACT)
    # profile 2 of 7: a face of its own
    with BuildSketch(Plane.XY.offset(4.35).offset(CUT_EXTRUDE1_START)):
        with Locations((-23.25, 266)):
            Circle(INSERT_HOLE_GEOMETRY_R)
        with Locations((-23.25, 266)):
            Circle(INSERT_HOLE_GEOMETRY_R_2, mode=Mode.SUBTRACT)
    # profile 3 of 7: a face of its own
    with BuildSketch(Plane.XY.offset(4.35).offset(CUT_EXTRUDE1_START)):
        with Locations((-9.4, 91)):
            Circle(INSERT_HOLE_GEOMETRY_R)
        with Locations((-9.4, 91)):
            Circle(INSERT_HOLE_GEOMETRY_R_2, mode=Mode.SUBTRACT)
    # profile 4 of 7: a face of its own
    with BuildSketch(Plane.XY.offset(4.35).offset(CUT_EXTRUDE1_START)):
        with Locations((18.85, 0)):
            Circle(INSERT_HOLE_GEOMETRY_R)
        with Locations((18.85, 0)):
            Circle(INSERT_HOLE_GEOMETRY_R_2, mode=Mode.SUBTRACT)
    # profile 5 of 7: a face of its own
    with BuildSketch(Plane.XY.offset(4.35).offset(CUT_EXTRUDE1_START)):
        with Locations((-9.4, -91)):
            Circle(INSERT_HOLE_GEOMETRY_R)
        with Locations((-9.4, -91)):
            Circle(INSERT_HOLE_GEOMETRY_R_2, mode=Mode.SUBTRACT)
    # profile 6 of 7: a face of its own
    with BuildSketch(Plane.XY.offset(4.35).offset(CUT_EXTRUDE1_START)):
        with Locations((18.85, -182)):
            Circle(INSERT_HOLE_GEOMETRY_R)
        with Locations((18.85, -182)):
            Circle(INSERT_HOLE_GEOMETRY_R_2, mode=Mode.SUBTRACT)
    # profile 7 of 7: a face of its own
    with BuildSketch(Plane.XY.offset(4.35).offset(CUT_EXTRUDE1_START)):
        with Locations((-9.4, -273)):
            Circle(INSERT_HOLE_GEOMETRY_R)
        with Locations((-9.4, -273)):
            Circle(INSERT_HOLE_GEOMETRY_R_2, mode=Mode.SUBTRACT)
    extrude(amount=CUT_EXTRUDE1_DEPTH, mode=Mode.SUBTRACT)

    # Fillet2
    fillet2_edges = [part_1.edges().sort_by_distance(p)[0] for p in [
        (-31.16, 266, 4.35),
        (10.94, 182, 4.35),
        (-17.31, 91, 4.35),
        (10.94, 0, 4.35),
        (-17.31, -273, 4.35),
        (10.94, -182, 4.35),
        (-17.31, -91, 4.35),
        (-9.4, -96.6, 2.15),
        (-9.4, -278.6, 2.15),
        (18.85, -187.6, 2.15),
        (-23.25, 260.4, 2.15),
        (18.85, 176.4, 2.15),
        (-9.4, 85.4, 2.15),
        (18.85, -5.6, 2.15),
    ]]
    fillet(fillet2_edges, radius=FILLET2_R)


solid = part_1.part
